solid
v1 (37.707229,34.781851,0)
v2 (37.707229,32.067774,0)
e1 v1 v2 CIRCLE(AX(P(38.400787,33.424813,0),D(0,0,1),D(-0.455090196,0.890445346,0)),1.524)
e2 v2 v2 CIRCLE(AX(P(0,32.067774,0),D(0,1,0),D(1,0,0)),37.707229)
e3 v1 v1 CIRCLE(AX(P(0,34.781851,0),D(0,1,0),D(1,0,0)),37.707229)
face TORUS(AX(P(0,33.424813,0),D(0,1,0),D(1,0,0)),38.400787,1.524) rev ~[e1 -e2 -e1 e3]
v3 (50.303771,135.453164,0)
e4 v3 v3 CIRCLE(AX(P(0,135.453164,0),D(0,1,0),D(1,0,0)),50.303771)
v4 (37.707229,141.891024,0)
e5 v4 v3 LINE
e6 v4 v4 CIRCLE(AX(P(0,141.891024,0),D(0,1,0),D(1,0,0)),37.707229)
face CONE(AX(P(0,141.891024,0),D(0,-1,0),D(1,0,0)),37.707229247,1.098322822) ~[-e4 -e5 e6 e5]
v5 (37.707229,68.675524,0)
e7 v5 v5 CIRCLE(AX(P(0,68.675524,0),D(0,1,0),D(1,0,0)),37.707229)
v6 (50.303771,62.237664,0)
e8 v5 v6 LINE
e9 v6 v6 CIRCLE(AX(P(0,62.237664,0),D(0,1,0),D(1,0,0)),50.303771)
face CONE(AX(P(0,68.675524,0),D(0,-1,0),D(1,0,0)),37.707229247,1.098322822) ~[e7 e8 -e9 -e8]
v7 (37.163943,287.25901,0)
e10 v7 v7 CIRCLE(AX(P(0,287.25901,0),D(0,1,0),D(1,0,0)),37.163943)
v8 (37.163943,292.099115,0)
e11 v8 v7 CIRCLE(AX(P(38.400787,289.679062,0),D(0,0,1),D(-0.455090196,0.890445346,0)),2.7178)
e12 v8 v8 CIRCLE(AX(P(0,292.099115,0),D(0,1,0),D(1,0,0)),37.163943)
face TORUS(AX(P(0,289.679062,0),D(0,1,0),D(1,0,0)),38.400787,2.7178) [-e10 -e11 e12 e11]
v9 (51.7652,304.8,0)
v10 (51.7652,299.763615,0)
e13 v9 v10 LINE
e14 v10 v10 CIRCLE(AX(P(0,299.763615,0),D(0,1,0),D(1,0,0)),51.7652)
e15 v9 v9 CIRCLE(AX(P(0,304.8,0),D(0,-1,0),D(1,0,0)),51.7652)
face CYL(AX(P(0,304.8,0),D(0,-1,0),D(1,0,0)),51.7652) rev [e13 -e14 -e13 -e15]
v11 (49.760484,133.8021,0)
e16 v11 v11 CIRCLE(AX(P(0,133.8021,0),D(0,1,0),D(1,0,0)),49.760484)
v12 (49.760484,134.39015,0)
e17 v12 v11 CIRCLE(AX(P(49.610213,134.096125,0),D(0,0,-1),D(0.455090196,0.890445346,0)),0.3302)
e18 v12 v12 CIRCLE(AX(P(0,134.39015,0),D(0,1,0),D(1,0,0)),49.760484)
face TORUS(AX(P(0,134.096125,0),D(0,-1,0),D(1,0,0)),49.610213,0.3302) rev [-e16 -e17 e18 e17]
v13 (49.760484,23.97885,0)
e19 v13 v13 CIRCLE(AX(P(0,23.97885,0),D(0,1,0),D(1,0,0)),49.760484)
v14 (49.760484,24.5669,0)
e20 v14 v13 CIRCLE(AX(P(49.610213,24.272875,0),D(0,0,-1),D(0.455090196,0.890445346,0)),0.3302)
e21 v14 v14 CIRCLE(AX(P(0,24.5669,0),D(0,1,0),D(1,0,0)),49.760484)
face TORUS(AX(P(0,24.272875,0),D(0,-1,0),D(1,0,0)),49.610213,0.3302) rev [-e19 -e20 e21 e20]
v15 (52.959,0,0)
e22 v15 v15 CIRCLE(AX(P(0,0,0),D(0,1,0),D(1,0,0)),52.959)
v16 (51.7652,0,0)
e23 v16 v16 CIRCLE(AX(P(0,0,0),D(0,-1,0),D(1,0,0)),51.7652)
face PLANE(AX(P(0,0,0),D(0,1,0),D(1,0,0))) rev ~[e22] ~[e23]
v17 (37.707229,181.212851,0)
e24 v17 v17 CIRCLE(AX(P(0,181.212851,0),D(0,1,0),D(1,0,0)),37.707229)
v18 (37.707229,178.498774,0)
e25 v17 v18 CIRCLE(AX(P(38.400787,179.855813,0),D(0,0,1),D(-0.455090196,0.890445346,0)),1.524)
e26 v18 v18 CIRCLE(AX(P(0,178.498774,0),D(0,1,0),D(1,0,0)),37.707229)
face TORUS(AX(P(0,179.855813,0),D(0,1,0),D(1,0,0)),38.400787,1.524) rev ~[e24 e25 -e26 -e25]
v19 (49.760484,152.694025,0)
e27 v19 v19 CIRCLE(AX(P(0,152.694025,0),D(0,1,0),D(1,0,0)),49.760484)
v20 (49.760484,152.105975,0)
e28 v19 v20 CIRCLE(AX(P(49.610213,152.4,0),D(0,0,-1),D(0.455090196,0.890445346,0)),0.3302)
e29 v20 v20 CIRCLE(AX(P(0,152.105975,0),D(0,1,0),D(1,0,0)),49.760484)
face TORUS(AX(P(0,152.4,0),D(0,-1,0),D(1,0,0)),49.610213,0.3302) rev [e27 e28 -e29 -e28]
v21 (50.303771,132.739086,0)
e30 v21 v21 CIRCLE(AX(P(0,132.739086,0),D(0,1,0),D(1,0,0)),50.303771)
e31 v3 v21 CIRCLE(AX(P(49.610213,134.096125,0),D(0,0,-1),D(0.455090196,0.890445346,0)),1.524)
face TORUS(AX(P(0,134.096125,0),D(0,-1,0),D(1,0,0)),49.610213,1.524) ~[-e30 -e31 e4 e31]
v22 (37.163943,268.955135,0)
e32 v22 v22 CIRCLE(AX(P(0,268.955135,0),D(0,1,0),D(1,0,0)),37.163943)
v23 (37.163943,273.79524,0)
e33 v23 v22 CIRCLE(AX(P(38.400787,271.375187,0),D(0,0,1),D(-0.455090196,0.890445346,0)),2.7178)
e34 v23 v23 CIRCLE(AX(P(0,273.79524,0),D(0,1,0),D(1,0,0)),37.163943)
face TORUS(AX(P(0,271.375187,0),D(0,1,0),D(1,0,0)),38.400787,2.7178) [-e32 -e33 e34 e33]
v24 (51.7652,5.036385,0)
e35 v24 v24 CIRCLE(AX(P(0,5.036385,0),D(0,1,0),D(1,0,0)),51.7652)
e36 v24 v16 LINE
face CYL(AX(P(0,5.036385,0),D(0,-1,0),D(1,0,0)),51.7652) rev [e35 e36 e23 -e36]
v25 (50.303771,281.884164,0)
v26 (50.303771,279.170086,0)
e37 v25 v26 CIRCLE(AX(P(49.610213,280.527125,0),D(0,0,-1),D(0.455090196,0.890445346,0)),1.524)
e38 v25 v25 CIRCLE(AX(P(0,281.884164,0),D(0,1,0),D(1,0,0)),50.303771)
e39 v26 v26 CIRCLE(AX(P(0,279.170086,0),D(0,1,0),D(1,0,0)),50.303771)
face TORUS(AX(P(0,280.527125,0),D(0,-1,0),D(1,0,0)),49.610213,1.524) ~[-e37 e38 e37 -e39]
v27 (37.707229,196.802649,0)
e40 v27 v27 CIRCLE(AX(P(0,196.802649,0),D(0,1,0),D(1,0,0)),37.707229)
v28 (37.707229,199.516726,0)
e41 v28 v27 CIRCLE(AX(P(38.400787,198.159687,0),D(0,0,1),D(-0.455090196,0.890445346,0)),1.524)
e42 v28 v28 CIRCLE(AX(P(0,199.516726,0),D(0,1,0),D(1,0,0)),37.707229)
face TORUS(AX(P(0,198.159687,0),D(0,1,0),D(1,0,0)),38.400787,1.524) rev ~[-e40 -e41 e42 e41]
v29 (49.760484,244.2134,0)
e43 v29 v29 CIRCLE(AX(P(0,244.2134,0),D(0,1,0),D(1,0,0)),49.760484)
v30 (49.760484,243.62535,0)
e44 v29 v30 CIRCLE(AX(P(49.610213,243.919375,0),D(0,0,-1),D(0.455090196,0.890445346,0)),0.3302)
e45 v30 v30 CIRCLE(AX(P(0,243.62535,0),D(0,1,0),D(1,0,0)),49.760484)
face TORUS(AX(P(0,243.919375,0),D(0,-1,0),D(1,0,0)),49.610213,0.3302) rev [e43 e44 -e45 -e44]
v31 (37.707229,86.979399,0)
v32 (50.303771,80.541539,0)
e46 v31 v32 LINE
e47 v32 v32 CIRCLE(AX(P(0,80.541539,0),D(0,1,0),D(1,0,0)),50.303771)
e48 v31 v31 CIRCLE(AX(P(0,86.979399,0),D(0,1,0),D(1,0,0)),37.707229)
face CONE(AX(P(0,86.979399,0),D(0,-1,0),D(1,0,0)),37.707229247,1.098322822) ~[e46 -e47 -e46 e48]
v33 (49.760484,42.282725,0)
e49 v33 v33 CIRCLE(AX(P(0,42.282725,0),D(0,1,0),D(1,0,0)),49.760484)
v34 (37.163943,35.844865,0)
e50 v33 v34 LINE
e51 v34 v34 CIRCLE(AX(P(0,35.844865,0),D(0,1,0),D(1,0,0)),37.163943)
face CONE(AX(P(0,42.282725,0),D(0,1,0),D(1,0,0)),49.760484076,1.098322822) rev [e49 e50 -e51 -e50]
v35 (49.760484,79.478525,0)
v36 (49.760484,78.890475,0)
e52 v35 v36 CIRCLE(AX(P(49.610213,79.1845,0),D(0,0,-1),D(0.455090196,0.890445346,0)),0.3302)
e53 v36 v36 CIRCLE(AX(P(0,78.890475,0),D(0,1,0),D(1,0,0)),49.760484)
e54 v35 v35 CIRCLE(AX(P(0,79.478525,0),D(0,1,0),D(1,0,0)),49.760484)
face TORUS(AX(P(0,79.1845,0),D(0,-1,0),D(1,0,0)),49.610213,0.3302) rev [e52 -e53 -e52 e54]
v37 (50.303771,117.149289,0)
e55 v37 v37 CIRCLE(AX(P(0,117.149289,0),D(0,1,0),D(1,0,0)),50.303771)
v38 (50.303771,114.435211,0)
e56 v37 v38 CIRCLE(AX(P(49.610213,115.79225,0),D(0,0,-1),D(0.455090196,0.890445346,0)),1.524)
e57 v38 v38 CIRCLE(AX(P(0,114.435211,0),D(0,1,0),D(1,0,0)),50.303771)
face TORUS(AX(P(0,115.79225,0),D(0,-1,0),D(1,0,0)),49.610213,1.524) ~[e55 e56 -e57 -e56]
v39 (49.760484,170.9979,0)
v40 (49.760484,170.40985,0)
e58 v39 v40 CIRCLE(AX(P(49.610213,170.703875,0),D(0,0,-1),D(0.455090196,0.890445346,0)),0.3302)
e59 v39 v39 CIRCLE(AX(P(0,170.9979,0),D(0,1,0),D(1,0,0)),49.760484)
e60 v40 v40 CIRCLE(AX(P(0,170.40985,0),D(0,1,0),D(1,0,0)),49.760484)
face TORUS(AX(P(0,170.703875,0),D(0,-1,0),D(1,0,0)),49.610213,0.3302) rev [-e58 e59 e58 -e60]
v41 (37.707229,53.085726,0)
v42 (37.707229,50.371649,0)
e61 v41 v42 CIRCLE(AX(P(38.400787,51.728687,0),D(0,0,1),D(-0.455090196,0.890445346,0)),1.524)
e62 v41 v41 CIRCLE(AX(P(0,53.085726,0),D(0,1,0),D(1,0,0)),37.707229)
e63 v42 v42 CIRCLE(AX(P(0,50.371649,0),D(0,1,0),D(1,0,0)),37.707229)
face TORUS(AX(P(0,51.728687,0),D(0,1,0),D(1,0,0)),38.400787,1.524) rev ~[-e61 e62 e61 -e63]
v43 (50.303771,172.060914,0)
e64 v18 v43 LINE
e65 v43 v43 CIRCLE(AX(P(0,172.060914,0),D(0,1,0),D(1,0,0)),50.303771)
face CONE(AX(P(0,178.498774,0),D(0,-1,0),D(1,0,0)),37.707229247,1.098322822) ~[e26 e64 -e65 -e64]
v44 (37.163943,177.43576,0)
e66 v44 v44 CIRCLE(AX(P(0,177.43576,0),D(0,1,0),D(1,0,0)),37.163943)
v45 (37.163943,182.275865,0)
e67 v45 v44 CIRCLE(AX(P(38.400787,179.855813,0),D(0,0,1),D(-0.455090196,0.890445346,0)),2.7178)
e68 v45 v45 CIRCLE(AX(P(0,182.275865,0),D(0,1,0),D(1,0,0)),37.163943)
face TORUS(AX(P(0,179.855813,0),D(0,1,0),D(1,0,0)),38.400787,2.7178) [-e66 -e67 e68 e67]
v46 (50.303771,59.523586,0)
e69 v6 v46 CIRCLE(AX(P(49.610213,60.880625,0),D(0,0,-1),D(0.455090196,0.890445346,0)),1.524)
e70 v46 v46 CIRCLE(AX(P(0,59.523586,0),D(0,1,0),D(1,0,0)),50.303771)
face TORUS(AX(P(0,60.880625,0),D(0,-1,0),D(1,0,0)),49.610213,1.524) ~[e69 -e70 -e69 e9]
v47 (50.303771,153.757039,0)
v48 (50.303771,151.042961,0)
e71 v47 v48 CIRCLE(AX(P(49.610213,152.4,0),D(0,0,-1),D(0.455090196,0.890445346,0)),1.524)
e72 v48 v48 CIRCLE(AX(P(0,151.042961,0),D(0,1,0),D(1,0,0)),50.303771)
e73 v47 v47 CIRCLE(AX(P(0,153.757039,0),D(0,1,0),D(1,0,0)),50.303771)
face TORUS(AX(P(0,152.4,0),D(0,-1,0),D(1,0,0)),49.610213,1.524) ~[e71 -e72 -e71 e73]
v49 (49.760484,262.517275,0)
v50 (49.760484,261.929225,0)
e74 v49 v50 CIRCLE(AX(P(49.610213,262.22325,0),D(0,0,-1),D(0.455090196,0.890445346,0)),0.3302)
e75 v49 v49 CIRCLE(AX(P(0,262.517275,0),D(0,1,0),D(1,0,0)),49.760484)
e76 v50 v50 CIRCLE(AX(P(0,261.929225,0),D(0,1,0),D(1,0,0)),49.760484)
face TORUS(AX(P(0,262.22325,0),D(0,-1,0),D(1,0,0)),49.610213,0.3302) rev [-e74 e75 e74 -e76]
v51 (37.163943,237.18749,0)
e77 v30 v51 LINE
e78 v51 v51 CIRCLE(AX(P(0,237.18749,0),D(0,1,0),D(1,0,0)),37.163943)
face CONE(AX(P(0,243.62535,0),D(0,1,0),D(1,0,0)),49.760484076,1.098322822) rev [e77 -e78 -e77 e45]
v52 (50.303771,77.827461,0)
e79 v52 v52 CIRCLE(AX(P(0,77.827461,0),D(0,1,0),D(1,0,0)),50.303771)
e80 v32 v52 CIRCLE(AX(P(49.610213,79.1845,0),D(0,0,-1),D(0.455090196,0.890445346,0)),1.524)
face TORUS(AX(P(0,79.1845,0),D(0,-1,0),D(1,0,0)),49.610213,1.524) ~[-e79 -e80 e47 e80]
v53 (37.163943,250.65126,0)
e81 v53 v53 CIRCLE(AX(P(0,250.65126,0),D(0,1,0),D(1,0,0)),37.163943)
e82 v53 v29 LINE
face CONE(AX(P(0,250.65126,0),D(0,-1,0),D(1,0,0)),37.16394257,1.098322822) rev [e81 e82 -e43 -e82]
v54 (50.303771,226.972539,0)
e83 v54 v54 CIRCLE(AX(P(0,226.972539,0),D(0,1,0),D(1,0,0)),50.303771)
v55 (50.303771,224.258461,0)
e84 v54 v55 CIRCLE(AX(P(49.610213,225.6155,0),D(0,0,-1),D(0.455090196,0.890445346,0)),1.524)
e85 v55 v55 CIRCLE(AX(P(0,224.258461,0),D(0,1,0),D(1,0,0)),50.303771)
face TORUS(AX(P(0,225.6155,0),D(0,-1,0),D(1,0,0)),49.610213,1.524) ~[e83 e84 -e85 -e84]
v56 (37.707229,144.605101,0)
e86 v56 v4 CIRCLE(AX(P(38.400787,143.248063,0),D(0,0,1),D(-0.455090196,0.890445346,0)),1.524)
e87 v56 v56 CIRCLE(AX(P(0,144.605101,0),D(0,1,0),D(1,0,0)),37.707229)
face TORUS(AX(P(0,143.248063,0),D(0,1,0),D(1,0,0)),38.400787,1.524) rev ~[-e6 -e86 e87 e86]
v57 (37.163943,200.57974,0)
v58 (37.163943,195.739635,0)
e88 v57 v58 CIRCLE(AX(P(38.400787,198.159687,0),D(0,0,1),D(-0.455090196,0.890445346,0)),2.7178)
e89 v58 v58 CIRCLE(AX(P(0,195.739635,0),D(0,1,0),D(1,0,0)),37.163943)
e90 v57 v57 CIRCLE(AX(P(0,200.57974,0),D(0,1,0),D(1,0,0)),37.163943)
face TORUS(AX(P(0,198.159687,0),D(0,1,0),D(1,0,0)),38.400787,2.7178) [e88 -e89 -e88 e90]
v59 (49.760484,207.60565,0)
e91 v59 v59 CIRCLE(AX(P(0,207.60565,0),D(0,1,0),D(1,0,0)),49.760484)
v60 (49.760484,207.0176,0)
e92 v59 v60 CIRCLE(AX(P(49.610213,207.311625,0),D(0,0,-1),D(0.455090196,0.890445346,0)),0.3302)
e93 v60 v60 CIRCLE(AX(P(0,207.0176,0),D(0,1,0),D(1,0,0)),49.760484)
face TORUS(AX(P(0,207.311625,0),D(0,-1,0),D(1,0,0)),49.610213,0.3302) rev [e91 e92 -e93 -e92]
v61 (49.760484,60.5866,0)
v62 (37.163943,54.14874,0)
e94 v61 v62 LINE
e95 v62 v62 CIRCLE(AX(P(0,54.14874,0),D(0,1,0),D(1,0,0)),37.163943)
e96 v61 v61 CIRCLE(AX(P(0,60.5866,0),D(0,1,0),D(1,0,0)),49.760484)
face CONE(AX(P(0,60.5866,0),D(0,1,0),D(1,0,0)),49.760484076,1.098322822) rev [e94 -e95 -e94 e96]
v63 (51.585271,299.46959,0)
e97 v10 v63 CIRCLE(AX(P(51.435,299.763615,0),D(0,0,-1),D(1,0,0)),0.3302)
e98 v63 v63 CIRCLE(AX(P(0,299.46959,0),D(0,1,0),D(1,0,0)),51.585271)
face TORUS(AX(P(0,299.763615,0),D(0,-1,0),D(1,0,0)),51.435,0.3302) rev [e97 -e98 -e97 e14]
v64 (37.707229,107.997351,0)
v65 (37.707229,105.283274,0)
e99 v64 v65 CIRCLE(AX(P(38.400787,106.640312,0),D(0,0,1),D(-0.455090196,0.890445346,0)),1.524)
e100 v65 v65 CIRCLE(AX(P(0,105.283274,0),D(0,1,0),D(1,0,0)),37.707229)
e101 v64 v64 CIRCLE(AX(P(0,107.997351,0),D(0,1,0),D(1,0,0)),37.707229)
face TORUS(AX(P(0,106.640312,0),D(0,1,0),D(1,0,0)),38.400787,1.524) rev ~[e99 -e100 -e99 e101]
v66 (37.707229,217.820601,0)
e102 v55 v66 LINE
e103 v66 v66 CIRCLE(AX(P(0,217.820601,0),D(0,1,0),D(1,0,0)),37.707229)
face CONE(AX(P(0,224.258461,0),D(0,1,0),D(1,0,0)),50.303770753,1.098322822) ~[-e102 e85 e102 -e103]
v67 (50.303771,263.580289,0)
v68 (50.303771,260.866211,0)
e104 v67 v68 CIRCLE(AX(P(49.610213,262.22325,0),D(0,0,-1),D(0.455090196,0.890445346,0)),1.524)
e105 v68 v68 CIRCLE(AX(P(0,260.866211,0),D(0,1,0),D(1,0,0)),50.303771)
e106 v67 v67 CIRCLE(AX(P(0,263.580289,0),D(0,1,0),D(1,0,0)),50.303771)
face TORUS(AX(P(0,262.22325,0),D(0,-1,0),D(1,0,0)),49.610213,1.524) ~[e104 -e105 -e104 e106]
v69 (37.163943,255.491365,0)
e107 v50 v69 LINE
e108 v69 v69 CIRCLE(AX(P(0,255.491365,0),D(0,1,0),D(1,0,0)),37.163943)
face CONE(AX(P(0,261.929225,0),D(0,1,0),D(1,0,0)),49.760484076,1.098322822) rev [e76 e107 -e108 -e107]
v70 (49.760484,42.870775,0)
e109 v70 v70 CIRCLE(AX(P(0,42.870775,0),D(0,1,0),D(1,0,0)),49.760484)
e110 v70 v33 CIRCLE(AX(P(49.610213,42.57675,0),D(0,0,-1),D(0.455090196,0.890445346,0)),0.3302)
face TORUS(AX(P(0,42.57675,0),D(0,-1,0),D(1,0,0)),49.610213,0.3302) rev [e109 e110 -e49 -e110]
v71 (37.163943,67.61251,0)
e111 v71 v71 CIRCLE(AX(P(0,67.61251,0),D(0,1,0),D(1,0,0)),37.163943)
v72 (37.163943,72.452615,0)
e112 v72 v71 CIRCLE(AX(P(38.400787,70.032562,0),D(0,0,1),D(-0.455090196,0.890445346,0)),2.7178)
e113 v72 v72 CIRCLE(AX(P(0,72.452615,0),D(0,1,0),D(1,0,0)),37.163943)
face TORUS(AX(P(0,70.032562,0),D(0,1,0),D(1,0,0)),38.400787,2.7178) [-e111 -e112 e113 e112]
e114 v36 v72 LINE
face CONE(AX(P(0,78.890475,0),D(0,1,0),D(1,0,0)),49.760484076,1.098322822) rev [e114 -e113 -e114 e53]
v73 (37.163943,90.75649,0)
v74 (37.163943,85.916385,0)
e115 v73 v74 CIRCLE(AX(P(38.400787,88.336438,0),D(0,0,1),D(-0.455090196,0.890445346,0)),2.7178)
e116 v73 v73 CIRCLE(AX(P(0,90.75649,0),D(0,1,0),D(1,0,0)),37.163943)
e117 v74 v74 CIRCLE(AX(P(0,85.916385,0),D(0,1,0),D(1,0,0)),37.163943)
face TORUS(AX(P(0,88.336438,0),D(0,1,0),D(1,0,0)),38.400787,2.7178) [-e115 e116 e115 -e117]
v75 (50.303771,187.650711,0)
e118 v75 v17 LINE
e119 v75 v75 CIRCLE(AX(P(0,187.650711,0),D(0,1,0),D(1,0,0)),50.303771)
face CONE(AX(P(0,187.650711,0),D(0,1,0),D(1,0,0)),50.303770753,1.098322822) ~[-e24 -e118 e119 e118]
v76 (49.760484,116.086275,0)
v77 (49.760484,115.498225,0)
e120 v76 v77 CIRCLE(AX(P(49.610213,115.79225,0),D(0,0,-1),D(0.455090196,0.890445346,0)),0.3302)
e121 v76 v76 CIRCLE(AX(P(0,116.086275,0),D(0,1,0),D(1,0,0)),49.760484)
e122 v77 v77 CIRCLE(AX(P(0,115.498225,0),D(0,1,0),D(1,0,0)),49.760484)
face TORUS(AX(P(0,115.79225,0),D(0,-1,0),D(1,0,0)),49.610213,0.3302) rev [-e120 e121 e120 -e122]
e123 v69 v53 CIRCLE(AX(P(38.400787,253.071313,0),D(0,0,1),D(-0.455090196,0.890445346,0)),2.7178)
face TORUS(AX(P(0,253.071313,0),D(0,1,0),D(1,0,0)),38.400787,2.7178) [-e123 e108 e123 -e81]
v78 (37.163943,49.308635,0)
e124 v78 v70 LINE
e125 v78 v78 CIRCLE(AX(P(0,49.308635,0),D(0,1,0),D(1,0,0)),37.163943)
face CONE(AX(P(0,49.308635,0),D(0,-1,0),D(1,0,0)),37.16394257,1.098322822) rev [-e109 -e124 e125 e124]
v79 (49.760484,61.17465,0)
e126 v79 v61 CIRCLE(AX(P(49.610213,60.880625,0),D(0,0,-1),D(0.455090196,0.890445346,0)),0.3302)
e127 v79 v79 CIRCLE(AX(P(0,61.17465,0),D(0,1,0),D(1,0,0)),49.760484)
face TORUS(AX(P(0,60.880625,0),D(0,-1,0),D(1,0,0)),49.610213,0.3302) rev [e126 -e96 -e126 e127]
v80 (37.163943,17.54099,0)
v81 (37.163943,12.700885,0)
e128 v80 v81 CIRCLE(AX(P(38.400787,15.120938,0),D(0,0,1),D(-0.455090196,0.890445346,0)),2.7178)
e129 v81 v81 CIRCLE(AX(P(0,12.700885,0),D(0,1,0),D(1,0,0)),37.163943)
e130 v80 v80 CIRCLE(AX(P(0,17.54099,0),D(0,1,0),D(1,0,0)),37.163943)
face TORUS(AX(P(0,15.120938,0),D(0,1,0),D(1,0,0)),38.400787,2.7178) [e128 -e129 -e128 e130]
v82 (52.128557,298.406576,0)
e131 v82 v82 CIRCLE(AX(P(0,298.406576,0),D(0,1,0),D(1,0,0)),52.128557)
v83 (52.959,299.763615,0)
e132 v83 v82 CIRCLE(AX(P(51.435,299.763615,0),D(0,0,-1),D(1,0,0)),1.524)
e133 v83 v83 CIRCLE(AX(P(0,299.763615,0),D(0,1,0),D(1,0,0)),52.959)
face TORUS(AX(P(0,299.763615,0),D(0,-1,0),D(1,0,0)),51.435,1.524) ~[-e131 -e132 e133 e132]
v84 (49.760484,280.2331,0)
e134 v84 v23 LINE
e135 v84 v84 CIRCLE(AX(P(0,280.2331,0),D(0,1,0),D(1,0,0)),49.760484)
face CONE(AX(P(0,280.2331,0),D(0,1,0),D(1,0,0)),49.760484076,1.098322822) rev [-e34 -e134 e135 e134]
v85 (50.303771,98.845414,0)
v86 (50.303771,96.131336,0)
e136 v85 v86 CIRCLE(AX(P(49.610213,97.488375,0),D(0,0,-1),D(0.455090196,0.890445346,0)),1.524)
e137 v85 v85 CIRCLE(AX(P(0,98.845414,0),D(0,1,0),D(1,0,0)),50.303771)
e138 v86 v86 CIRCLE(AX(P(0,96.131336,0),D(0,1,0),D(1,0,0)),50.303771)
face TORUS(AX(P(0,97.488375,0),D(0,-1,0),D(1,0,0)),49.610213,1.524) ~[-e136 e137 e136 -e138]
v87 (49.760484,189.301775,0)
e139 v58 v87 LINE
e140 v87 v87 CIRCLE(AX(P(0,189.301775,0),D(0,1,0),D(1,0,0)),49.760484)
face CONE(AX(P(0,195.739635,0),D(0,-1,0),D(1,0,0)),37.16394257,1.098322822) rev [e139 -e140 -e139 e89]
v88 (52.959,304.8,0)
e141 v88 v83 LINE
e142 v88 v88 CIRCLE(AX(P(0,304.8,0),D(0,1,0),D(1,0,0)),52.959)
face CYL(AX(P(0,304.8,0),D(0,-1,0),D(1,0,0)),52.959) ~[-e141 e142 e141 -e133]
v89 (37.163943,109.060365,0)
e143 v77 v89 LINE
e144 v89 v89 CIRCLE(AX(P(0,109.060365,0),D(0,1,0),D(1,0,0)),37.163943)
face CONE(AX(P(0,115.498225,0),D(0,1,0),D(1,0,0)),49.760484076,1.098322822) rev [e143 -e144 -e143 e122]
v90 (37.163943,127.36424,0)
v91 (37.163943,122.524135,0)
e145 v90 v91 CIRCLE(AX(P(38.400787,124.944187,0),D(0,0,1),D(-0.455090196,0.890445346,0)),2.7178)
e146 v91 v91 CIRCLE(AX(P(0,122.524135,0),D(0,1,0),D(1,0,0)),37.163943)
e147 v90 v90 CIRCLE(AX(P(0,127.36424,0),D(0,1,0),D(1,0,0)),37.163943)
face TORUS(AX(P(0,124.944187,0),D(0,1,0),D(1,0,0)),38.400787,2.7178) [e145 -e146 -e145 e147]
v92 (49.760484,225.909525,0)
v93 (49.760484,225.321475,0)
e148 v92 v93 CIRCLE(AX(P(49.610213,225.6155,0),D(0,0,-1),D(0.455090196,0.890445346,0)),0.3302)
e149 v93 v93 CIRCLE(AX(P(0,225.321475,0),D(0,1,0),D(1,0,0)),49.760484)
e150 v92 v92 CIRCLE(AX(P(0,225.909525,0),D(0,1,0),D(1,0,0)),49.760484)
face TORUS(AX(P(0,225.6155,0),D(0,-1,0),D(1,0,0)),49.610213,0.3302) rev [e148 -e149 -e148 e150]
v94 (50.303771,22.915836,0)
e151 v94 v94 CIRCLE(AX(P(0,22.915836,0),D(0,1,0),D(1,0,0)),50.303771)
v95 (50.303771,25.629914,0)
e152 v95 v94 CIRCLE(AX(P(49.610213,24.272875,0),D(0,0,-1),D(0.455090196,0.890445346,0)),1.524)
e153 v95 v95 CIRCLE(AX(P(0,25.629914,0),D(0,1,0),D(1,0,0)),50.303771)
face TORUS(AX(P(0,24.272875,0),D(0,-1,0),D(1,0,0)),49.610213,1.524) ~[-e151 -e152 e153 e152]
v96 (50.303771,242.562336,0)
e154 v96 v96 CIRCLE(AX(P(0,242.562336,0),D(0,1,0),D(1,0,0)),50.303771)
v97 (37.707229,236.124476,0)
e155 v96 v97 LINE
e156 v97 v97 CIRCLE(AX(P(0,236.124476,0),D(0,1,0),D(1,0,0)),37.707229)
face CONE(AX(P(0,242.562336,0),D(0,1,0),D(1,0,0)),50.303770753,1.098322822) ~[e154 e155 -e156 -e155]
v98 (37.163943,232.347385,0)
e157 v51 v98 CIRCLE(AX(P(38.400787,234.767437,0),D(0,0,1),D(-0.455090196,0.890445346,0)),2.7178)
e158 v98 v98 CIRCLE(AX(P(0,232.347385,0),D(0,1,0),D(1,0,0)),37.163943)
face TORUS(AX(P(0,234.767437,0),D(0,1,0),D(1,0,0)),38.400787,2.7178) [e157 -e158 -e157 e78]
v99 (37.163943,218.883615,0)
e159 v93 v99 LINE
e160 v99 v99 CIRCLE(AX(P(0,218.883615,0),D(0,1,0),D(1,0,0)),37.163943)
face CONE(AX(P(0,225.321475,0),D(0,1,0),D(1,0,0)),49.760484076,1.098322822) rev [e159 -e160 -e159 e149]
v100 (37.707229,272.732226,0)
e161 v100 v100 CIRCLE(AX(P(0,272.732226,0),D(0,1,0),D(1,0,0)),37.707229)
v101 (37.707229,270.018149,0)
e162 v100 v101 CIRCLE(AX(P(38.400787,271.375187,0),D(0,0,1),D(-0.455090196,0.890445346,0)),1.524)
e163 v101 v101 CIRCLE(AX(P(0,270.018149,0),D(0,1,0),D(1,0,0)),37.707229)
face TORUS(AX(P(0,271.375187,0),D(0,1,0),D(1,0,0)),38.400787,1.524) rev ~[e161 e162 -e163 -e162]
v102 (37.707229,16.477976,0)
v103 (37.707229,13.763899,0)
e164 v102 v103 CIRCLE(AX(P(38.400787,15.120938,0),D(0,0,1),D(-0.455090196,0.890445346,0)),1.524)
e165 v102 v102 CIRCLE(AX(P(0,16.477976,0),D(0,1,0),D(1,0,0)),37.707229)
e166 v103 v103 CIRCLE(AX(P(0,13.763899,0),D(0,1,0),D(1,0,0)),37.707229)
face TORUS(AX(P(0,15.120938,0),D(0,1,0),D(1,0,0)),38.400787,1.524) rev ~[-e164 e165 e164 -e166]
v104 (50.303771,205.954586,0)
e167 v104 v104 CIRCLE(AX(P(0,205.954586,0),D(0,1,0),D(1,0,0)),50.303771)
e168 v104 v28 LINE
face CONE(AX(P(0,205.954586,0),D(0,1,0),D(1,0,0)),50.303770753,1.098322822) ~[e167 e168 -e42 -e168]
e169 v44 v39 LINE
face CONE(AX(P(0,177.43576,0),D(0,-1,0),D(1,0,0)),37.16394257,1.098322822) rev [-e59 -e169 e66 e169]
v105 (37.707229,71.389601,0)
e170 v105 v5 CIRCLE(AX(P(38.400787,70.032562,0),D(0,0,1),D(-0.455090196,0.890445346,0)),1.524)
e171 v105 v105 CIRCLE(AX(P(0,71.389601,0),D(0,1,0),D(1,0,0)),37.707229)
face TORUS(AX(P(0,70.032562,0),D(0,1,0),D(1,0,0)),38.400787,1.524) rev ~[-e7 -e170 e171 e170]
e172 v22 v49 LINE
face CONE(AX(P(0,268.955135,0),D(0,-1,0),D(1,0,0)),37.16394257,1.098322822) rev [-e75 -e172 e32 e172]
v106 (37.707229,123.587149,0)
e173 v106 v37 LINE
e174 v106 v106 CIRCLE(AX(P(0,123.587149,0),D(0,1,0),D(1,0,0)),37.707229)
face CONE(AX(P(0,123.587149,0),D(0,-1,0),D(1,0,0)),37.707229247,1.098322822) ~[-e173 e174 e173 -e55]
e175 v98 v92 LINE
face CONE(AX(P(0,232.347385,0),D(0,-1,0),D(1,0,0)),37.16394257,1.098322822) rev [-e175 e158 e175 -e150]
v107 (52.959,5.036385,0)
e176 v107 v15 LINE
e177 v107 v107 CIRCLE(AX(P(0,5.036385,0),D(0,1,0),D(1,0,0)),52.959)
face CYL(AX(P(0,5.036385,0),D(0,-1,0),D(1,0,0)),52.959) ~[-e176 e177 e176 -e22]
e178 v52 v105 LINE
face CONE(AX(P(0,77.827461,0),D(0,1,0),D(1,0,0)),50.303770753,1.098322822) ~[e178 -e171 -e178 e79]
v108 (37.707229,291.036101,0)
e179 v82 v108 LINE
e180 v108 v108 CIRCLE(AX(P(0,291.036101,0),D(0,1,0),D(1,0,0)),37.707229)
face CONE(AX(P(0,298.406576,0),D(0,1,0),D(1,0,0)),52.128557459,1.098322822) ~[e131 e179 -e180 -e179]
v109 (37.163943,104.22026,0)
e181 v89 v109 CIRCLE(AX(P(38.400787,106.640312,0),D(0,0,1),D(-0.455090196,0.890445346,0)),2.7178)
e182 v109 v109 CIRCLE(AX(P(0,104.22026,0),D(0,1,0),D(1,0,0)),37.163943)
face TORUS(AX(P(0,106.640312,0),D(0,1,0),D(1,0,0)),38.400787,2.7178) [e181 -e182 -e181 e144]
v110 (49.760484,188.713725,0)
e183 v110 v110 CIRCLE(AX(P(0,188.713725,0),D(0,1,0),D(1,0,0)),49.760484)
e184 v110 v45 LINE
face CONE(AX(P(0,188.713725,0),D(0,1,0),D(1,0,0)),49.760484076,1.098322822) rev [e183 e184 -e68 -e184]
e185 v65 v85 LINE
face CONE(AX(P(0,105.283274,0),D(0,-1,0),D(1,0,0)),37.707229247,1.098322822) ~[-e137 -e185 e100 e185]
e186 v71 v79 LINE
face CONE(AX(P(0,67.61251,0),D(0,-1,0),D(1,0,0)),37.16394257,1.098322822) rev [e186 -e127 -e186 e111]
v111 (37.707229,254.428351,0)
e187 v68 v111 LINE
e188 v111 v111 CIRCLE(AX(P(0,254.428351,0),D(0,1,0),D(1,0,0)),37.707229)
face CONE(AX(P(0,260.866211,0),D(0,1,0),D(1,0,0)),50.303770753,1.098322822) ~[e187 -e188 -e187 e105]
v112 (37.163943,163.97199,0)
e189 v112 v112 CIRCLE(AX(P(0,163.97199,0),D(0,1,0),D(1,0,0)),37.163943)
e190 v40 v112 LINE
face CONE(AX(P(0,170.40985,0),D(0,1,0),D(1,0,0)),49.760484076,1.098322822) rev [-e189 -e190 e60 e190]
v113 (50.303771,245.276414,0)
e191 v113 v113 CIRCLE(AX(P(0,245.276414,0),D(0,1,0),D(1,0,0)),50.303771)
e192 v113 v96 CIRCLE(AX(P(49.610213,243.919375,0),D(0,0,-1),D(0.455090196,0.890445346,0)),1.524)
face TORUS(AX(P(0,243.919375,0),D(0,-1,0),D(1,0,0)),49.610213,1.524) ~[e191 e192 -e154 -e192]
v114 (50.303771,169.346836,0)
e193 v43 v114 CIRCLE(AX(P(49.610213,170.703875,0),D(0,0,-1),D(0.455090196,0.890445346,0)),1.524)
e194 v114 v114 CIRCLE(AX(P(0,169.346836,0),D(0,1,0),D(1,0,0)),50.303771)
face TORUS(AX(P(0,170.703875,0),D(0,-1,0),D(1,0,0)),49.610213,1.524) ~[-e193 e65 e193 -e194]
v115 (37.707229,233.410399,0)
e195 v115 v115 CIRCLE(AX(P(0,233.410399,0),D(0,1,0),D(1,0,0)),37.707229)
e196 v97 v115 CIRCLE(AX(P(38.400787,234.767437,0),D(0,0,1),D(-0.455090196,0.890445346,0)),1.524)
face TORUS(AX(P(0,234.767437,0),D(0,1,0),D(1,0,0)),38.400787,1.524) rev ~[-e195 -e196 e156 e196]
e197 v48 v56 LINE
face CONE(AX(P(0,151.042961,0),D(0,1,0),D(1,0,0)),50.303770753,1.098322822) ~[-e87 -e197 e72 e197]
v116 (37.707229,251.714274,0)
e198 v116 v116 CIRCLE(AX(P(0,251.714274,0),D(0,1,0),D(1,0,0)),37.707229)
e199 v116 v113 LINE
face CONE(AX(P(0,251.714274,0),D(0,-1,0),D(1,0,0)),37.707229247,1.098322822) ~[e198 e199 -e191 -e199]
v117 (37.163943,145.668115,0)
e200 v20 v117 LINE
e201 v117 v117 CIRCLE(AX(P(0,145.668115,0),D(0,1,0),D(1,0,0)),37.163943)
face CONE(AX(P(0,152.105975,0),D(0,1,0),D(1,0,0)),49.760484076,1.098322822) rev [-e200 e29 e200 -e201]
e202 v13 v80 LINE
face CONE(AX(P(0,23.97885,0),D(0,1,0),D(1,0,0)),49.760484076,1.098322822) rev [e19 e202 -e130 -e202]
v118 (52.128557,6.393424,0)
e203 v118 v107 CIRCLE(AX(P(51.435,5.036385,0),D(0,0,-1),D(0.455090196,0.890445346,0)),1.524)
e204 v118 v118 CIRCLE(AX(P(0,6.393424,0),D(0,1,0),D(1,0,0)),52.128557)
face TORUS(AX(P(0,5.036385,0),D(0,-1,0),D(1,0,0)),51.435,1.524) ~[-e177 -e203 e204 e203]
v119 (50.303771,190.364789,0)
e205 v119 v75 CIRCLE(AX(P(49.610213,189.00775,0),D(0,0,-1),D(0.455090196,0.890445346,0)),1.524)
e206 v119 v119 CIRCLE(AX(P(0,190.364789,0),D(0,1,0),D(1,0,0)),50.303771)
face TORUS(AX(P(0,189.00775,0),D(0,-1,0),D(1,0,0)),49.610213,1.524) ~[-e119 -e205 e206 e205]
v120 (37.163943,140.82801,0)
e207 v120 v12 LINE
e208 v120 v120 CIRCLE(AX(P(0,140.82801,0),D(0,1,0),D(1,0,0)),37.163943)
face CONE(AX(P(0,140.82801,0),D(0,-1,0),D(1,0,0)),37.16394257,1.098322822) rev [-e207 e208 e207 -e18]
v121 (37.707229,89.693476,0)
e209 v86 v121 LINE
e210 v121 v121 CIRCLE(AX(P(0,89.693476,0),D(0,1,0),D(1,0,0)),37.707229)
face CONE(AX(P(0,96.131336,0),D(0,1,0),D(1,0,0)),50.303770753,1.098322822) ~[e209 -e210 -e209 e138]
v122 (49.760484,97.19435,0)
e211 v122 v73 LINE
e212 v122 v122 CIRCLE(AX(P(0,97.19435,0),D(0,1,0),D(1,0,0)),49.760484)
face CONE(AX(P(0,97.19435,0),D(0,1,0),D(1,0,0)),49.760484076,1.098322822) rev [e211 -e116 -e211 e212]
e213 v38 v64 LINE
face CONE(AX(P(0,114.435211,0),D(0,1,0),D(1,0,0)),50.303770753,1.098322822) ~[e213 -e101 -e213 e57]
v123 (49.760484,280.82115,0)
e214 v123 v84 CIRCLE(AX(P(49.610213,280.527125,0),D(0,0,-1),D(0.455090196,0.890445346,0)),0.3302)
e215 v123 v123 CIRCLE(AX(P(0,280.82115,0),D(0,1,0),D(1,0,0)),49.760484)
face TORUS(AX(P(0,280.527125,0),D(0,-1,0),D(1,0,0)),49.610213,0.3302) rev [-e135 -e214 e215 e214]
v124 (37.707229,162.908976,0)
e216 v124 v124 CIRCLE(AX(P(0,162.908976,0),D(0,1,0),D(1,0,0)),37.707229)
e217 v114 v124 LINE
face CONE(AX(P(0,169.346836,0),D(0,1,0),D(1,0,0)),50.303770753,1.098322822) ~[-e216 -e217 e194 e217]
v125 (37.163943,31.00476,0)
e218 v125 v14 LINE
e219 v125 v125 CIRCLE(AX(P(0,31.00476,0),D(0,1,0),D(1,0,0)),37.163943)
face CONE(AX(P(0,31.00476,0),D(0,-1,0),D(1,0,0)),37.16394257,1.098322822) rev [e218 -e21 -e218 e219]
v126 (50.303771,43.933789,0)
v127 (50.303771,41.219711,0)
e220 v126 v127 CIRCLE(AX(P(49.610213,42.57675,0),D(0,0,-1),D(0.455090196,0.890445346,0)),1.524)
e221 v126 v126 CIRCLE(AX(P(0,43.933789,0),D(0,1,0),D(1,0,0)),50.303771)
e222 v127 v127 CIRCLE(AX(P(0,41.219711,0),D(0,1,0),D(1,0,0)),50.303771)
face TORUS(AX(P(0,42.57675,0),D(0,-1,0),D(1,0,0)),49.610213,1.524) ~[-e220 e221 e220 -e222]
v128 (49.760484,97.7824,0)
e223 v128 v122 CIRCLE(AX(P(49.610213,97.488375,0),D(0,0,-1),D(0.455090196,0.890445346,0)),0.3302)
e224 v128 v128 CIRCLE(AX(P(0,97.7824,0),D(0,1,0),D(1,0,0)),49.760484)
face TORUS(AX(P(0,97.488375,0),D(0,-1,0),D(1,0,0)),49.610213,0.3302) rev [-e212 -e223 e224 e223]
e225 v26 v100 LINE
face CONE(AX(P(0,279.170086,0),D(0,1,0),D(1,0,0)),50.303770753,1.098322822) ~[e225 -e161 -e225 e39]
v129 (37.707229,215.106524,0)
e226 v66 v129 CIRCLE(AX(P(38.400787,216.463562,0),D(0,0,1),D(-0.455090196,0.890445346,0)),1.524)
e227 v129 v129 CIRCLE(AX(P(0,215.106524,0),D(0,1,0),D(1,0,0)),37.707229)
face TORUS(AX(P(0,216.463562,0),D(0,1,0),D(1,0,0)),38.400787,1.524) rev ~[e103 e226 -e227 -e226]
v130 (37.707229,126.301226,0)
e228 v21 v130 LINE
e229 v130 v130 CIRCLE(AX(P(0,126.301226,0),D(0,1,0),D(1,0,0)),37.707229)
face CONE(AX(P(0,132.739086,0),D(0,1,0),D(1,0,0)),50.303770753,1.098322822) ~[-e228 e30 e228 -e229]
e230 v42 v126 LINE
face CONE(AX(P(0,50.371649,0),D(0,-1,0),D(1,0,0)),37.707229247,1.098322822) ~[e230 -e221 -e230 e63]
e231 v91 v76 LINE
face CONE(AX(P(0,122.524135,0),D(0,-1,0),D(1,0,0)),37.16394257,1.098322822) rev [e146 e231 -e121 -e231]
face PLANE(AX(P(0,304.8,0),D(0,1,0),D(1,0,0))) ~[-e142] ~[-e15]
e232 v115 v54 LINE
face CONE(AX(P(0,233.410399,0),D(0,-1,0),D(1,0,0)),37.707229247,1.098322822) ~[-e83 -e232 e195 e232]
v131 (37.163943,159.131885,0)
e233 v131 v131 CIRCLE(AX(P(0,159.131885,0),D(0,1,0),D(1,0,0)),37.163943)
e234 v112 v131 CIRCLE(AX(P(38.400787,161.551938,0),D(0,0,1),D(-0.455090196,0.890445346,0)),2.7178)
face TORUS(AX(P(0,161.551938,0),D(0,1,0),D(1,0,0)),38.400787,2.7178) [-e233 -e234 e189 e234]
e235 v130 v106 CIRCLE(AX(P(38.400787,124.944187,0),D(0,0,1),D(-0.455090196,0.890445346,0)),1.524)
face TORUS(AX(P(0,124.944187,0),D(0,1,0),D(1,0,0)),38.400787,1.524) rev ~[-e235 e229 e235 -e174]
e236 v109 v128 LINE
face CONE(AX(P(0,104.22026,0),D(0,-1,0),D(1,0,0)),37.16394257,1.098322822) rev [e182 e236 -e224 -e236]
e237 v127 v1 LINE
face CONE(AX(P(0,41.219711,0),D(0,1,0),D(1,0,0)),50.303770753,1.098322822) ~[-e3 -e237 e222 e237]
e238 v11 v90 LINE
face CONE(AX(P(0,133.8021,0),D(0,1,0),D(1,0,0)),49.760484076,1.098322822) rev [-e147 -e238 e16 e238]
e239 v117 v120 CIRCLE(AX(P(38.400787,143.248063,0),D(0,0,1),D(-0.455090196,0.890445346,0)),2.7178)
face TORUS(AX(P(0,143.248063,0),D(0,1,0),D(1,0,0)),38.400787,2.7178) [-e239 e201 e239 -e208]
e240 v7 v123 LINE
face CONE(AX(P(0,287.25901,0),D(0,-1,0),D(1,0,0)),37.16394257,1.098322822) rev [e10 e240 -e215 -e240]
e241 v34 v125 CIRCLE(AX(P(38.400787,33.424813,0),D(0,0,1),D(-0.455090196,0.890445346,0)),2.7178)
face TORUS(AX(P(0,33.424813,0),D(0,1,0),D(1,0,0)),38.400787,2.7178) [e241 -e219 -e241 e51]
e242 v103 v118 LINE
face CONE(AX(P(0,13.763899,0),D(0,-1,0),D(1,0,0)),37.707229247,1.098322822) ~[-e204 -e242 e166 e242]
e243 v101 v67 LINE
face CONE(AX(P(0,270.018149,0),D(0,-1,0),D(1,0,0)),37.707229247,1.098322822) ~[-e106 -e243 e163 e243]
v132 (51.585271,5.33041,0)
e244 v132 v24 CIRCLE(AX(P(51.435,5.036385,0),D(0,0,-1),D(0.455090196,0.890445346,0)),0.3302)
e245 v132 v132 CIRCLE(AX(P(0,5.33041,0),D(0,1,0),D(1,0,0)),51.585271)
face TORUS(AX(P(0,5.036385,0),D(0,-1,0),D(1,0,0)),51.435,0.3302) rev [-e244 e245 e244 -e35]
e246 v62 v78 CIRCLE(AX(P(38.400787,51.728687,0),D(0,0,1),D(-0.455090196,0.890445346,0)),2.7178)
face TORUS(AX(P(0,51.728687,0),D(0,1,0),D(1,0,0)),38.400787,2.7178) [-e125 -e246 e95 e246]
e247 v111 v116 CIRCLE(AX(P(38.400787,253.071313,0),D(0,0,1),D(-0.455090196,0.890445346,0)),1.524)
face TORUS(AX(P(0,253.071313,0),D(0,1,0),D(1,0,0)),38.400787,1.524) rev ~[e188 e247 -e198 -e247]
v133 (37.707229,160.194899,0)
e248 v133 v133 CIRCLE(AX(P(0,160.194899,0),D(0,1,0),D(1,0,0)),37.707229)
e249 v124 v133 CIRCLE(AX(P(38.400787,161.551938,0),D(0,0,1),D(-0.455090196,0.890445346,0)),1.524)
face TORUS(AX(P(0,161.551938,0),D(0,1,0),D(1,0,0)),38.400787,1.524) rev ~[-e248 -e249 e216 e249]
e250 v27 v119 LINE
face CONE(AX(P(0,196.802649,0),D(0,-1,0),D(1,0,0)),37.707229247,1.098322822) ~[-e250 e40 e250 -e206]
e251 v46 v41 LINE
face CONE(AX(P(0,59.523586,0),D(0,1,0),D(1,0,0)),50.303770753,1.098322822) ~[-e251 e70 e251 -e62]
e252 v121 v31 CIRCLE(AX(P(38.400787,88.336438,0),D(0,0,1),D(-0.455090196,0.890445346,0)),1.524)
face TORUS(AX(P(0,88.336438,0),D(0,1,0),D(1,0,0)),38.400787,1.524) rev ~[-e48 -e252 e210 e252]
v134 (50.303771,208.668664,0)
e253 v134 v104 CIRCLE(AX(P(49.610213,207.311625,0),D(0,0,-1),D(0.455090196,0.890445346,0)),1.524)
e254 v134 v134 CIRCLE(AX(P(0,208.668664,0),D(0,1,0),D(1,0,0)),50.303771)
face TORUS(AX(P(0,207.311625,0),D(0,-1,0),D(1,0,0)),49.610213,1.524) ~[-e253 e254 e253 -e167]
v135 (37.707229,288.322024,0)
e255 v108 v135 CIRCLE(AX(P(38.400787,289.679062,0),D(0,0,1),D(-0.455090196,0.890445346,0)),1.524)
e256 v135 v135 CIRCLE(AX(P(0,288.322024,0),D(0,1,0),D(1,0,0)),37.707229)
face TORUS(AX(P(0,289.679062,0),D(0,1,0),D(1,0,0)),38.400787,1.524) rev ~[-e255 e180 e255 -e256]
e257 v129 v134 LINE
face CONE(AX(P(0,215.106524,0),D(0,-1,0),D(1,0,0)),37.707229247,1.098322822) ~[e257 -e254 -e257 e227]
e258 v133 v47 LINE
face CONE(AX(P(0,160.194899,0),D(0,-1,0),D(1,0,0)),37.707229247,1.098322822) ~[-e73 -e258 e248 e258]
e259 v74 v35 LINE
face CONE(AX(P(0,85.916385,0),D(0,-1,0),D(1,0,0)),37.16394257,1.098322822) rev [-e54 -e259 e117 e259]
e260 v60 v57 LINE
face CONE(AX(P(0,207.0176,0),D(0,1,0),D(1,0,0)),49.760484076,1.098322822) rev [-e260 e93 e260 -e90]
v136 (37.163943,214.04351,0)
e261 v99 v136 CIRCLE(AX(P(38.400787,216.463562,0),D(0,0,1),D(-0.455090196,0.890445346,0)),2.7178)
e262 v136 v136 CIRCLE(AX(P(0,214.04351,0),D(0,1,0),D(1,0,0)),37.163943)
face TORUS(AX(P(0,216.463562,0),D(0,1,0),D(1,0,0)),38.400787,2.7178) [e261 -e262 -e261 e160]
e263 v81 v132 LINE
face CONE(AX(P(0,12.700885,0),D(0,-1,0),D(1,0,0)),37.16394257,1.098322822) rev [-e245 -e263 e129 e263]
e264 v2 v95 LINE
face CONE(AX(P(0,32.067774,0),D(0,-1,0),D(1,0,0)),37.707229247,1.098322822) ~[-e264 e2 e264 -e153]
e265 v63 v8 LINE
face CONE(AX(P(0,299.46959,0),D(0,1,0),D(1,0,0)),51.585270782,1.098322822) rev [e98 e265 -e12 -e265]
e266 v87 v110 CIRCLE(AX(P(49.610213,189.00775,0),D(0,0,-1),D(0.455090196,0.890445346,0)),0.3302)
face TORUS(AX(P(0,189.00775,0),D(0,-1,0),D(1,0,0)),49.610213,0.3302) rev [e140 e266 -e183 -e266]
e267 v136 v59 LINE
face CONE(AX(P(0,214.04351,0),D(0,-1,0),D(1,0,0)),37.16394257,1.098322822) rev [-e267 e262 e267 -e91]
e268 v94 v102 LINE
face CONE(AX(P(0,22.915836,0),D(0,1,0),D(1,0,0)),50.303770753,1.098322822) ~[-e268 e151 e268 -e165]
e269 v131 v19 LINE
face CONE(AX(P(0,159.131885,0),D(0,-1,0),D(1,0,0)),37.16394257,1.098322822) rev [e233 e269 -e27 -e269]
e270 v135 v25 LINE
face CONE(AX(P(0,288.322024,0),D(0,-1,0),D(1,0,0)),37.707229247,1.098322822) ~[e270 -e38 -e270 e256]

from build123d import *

# Parameters (mm, degrees)
SHELL1_T = -1.1938


with BuildPart() as part:
    # Sketch1 → Revolve2 (revolve)
    with BuildSketch(Plane.XY):
        with BuildLine():
            Line((0, 0), (0, 304.8))
            Line((0, 304.8), (52.959, 304.8))
            Line((52.959, 304.8), (52.959, 299.763614837))
            ThreePointArc((52.959, 299.763614837), (52.734914914, 298.968129315), (52.128557459, 298.406576131))
            Line((52.128557459, 298.406576131), (37.707229247, 291.036101206))
            ThreePointArc((37.707229247, 291.036101206), (36.876786706, 289.6790625), (37.707229247, 288.322023794))
            Line((37.707229247, 288.322023794), (50.303770753, 281.884163706))
            ThreePointArc((50.303770753, 281.884163706), (51.134213294, 280.527125), (50.303770753, 279.170086294))
            Line((50.303770753, 279.170086294), (37.707229247, 272.732226206))
            ThreePointArc((37.707229247, 272.732226206), (36.876786706, 271.3751875), (37.707229247, 270.018148794))
            Line((37.707229247, 270.018148794), (50.303770753, 263.580288706))
            ThreePointArc((50.303770753, 263.580288706), (51.134213294, 262.22325), (50.303770753, 260.866211294))
            Line((50.303770753, 260.866211294), (37.707229247, 254.428351206))
            ThreePointArc((37.707229247, 254.428351206), (36.876786706, 253.0713125), (37.707229247, 251.714273794))
            Line((37.707229247, 251.714273794), (50.303770753, 245.276413706))
            ThreePointArc((50.303770753, 245.276413706), (51.134213294, 243.919375), (50.303770753, 242.562336294))
            Line((50.303770753, 242.562336294), (37.707229247, 236.124476206))
            ThreePointArc((37.707229247, 236.124476206), (36.876786706, 234.7674375), (37.707229247, 233.410398794))
            Line((37.707229247, 233.410398794), (50.303770753, 226.972538706))
            ThreePointArc((50.303770753, 226.972538706), (51.134213294, 225.6155), (50.303770753, 224.258461294))
            Line((50.303770753, 224.258461294), (37.707229247, 217.820601206))
            ThreePointArc((37.707229247, 217.820601206), (36.876786706, 216.4635625), (37.707229247, 215.106523794))
            Line((37.707229247, 215.106523794), (50.303770753, 208.668663706))
            ThreePointArc((50.303770753, 208.668663706), (51.134213294, 207.311625), (50.303770753, 205.954586294))
            Line((50.303770753, 205.954586294), (37.707229247, 199.516726206))
            ThreePointArc((37.707229247, 199.516726206), (36.876786706, 198.1596875), (37.707229247, 196.802648794))
            Line((37.707229247, 196.802648794), (50.303770753, 190.364788706))
            ThreePointArc((50.303770753, 190.364788706), (51.134213294, 189.00775), (50.303770753, 187.650711294))
            Line((50.303770753, 187.650711294), (37.707229247, 181.212851206))
            ThreePointArc((37.707229247, 181.212851206), (36.876786706, 179.8558125), (37.707229247, 178.498773794))
            Line((37.707229247, 178.498773794), (50.303770753, 172.060913706))
            ThreePointArc((50.303770753, 172.060913706), (51.134213294, 170.703875), (50.303770753, 169.346836294))
            Line((50.303770753, 169.346836294), (37.707229247, 162.908976206))
            ThreePointArc((37.707229247, 162.908976206), (36.876786706, 161.5519375), (37.707229247, 160.194898794))
            Line((37.707229247, 160.194898794), (50.303770753, 153.757038706))
            ThreePointArc((50.303770753, 153.757038706), (51.134213294, 152.4), (50.303770753, 151.042961294))
            Line((50.303770753, 151.042961294), (37.707229247, 144.605101206))
            ThreePointArc((37.707229247, 144.605101206), (36.876786706, 143.2480625), (37.707229247, 141.891023794))
            Line((37.707229247, 141.891023794), (50.303770753, 135.453163706))
            ThreePointArc((50.303770753, 135.453163706), (51.134213294, 134.096125), (50.303770753, 132.739086294))
            Line((50.303770753, 132.739086294), (37.707229247, 126.301226206))
            ThreePointArc((37.707229247, 126.301226206), (36.876786706, 124.9441875), (37.707229247, 123.587148794))
            Line((37.707229247, 123.587148794), (50.303770753, 117.149288706))
            ThreePointArc((50.303770753, 117.149288706), (51.134213294, 115.79225), (50.303770753, 114.435211294))
            Line((50.303770753, 114.435211294), (37.707229247, 107.997351206))
            ThreePointArc((37.707229247, 107.997351206), (36.876786706, 106.6403125), (37.707229247, 105.283273794))
            Line((37.707229247, 105.283273794), (50.303770753, 98.845413706))
            ThreePointArc((50.303770753, 98.845413706), (51.134213294, 97.488375), (50.303770753, 96.131336294))
            Line((50.303770753, 96.131336294), (37.707229247, 89.693476206))
            ThreePointArc((37.707229247, 89.693476206), (36.876786706, 88.3364375), (37.707229247, 86.979398794))
            Line((37.707229247, 86.979398794), (50.303770753, 80.541538706))
            ThreePointArc((50.303770753, 80.541538706), (51.134213294, 79.1845), (50.303770753, 77.827461294))
            Line((50.303770753, 77.827461294), (37.707229247, 71.389601206))
            ThreePointArc((37.707229247, 71.389601206), (36.876786706, 70.0325625), (37.707229247, 68.675523794))
            Line((37.707229247, 68.675523794), (50.303770753, 62.237663706))
            ThreePointArc((50.303770753, 62.237663706), (51.134213294, 60.880625), (50.303770753, 59.523586294))
            Line((50.303770753, 59.523586294), (37.707229247, 53.085726206))
            ThreePointArc((37.707229247, 53.085726206), (36.876786706, 51.7286875), (37.707229247, 50.371648794))
            Line((37.707229247, 50.371648794), (50.303770753, 43.933788706))
            ThreePointArc((50.303770753, 43.933788706), (51.134213294, 42.57675), (50.303770753, 41.219711294))
            Line((50.303770753, 41.219711294), (37.707229247, 34.781851206))
            ThreePointArc((37.707229247, 34.781851206), (36.876786706, 33.4248125), (37.707229247, 32.067773794))
            Line((37.707229247, 32.067773794), (50.303770753, 25.629913706))
            ThreePointArc((50.303770753, 25.629913706), (51.134213294, 24.272875), (50.303770753, 22.915836294))
            Line((50.303770753, 22.915836294), (37.707229247, 16.477976206))
            ThreePointArc((37.707229247, 16.477976206), (36.876786706, 15.1209375), (37.707229247, 13.763898794))
            Line((37.707229247, 13.763898794), (52.128557459, 6.393423869))
            ThreePointArc((52.128557459, 6.393423869), (52.734914914, 5.831870685), (52.959, 5.036385163))
            Line((52.959, 5.036385163), (52.959, 0))
            Line((52.959, 0), (0, 0))
        make_face()
    revolve(axis=Axis((0, 0, 0), (0, 1, 0)))

    # Shell1
    shell1_openings = [part.faces().sort_by_distance(p)[0] for p in [
        (0, 304.8, 0),
        (0, 0, 0),
    ]]
    offset(amount=SHELL1_T, openings=shell1_openings, kind=Kind.INTERSECTION)


solid = part.part
